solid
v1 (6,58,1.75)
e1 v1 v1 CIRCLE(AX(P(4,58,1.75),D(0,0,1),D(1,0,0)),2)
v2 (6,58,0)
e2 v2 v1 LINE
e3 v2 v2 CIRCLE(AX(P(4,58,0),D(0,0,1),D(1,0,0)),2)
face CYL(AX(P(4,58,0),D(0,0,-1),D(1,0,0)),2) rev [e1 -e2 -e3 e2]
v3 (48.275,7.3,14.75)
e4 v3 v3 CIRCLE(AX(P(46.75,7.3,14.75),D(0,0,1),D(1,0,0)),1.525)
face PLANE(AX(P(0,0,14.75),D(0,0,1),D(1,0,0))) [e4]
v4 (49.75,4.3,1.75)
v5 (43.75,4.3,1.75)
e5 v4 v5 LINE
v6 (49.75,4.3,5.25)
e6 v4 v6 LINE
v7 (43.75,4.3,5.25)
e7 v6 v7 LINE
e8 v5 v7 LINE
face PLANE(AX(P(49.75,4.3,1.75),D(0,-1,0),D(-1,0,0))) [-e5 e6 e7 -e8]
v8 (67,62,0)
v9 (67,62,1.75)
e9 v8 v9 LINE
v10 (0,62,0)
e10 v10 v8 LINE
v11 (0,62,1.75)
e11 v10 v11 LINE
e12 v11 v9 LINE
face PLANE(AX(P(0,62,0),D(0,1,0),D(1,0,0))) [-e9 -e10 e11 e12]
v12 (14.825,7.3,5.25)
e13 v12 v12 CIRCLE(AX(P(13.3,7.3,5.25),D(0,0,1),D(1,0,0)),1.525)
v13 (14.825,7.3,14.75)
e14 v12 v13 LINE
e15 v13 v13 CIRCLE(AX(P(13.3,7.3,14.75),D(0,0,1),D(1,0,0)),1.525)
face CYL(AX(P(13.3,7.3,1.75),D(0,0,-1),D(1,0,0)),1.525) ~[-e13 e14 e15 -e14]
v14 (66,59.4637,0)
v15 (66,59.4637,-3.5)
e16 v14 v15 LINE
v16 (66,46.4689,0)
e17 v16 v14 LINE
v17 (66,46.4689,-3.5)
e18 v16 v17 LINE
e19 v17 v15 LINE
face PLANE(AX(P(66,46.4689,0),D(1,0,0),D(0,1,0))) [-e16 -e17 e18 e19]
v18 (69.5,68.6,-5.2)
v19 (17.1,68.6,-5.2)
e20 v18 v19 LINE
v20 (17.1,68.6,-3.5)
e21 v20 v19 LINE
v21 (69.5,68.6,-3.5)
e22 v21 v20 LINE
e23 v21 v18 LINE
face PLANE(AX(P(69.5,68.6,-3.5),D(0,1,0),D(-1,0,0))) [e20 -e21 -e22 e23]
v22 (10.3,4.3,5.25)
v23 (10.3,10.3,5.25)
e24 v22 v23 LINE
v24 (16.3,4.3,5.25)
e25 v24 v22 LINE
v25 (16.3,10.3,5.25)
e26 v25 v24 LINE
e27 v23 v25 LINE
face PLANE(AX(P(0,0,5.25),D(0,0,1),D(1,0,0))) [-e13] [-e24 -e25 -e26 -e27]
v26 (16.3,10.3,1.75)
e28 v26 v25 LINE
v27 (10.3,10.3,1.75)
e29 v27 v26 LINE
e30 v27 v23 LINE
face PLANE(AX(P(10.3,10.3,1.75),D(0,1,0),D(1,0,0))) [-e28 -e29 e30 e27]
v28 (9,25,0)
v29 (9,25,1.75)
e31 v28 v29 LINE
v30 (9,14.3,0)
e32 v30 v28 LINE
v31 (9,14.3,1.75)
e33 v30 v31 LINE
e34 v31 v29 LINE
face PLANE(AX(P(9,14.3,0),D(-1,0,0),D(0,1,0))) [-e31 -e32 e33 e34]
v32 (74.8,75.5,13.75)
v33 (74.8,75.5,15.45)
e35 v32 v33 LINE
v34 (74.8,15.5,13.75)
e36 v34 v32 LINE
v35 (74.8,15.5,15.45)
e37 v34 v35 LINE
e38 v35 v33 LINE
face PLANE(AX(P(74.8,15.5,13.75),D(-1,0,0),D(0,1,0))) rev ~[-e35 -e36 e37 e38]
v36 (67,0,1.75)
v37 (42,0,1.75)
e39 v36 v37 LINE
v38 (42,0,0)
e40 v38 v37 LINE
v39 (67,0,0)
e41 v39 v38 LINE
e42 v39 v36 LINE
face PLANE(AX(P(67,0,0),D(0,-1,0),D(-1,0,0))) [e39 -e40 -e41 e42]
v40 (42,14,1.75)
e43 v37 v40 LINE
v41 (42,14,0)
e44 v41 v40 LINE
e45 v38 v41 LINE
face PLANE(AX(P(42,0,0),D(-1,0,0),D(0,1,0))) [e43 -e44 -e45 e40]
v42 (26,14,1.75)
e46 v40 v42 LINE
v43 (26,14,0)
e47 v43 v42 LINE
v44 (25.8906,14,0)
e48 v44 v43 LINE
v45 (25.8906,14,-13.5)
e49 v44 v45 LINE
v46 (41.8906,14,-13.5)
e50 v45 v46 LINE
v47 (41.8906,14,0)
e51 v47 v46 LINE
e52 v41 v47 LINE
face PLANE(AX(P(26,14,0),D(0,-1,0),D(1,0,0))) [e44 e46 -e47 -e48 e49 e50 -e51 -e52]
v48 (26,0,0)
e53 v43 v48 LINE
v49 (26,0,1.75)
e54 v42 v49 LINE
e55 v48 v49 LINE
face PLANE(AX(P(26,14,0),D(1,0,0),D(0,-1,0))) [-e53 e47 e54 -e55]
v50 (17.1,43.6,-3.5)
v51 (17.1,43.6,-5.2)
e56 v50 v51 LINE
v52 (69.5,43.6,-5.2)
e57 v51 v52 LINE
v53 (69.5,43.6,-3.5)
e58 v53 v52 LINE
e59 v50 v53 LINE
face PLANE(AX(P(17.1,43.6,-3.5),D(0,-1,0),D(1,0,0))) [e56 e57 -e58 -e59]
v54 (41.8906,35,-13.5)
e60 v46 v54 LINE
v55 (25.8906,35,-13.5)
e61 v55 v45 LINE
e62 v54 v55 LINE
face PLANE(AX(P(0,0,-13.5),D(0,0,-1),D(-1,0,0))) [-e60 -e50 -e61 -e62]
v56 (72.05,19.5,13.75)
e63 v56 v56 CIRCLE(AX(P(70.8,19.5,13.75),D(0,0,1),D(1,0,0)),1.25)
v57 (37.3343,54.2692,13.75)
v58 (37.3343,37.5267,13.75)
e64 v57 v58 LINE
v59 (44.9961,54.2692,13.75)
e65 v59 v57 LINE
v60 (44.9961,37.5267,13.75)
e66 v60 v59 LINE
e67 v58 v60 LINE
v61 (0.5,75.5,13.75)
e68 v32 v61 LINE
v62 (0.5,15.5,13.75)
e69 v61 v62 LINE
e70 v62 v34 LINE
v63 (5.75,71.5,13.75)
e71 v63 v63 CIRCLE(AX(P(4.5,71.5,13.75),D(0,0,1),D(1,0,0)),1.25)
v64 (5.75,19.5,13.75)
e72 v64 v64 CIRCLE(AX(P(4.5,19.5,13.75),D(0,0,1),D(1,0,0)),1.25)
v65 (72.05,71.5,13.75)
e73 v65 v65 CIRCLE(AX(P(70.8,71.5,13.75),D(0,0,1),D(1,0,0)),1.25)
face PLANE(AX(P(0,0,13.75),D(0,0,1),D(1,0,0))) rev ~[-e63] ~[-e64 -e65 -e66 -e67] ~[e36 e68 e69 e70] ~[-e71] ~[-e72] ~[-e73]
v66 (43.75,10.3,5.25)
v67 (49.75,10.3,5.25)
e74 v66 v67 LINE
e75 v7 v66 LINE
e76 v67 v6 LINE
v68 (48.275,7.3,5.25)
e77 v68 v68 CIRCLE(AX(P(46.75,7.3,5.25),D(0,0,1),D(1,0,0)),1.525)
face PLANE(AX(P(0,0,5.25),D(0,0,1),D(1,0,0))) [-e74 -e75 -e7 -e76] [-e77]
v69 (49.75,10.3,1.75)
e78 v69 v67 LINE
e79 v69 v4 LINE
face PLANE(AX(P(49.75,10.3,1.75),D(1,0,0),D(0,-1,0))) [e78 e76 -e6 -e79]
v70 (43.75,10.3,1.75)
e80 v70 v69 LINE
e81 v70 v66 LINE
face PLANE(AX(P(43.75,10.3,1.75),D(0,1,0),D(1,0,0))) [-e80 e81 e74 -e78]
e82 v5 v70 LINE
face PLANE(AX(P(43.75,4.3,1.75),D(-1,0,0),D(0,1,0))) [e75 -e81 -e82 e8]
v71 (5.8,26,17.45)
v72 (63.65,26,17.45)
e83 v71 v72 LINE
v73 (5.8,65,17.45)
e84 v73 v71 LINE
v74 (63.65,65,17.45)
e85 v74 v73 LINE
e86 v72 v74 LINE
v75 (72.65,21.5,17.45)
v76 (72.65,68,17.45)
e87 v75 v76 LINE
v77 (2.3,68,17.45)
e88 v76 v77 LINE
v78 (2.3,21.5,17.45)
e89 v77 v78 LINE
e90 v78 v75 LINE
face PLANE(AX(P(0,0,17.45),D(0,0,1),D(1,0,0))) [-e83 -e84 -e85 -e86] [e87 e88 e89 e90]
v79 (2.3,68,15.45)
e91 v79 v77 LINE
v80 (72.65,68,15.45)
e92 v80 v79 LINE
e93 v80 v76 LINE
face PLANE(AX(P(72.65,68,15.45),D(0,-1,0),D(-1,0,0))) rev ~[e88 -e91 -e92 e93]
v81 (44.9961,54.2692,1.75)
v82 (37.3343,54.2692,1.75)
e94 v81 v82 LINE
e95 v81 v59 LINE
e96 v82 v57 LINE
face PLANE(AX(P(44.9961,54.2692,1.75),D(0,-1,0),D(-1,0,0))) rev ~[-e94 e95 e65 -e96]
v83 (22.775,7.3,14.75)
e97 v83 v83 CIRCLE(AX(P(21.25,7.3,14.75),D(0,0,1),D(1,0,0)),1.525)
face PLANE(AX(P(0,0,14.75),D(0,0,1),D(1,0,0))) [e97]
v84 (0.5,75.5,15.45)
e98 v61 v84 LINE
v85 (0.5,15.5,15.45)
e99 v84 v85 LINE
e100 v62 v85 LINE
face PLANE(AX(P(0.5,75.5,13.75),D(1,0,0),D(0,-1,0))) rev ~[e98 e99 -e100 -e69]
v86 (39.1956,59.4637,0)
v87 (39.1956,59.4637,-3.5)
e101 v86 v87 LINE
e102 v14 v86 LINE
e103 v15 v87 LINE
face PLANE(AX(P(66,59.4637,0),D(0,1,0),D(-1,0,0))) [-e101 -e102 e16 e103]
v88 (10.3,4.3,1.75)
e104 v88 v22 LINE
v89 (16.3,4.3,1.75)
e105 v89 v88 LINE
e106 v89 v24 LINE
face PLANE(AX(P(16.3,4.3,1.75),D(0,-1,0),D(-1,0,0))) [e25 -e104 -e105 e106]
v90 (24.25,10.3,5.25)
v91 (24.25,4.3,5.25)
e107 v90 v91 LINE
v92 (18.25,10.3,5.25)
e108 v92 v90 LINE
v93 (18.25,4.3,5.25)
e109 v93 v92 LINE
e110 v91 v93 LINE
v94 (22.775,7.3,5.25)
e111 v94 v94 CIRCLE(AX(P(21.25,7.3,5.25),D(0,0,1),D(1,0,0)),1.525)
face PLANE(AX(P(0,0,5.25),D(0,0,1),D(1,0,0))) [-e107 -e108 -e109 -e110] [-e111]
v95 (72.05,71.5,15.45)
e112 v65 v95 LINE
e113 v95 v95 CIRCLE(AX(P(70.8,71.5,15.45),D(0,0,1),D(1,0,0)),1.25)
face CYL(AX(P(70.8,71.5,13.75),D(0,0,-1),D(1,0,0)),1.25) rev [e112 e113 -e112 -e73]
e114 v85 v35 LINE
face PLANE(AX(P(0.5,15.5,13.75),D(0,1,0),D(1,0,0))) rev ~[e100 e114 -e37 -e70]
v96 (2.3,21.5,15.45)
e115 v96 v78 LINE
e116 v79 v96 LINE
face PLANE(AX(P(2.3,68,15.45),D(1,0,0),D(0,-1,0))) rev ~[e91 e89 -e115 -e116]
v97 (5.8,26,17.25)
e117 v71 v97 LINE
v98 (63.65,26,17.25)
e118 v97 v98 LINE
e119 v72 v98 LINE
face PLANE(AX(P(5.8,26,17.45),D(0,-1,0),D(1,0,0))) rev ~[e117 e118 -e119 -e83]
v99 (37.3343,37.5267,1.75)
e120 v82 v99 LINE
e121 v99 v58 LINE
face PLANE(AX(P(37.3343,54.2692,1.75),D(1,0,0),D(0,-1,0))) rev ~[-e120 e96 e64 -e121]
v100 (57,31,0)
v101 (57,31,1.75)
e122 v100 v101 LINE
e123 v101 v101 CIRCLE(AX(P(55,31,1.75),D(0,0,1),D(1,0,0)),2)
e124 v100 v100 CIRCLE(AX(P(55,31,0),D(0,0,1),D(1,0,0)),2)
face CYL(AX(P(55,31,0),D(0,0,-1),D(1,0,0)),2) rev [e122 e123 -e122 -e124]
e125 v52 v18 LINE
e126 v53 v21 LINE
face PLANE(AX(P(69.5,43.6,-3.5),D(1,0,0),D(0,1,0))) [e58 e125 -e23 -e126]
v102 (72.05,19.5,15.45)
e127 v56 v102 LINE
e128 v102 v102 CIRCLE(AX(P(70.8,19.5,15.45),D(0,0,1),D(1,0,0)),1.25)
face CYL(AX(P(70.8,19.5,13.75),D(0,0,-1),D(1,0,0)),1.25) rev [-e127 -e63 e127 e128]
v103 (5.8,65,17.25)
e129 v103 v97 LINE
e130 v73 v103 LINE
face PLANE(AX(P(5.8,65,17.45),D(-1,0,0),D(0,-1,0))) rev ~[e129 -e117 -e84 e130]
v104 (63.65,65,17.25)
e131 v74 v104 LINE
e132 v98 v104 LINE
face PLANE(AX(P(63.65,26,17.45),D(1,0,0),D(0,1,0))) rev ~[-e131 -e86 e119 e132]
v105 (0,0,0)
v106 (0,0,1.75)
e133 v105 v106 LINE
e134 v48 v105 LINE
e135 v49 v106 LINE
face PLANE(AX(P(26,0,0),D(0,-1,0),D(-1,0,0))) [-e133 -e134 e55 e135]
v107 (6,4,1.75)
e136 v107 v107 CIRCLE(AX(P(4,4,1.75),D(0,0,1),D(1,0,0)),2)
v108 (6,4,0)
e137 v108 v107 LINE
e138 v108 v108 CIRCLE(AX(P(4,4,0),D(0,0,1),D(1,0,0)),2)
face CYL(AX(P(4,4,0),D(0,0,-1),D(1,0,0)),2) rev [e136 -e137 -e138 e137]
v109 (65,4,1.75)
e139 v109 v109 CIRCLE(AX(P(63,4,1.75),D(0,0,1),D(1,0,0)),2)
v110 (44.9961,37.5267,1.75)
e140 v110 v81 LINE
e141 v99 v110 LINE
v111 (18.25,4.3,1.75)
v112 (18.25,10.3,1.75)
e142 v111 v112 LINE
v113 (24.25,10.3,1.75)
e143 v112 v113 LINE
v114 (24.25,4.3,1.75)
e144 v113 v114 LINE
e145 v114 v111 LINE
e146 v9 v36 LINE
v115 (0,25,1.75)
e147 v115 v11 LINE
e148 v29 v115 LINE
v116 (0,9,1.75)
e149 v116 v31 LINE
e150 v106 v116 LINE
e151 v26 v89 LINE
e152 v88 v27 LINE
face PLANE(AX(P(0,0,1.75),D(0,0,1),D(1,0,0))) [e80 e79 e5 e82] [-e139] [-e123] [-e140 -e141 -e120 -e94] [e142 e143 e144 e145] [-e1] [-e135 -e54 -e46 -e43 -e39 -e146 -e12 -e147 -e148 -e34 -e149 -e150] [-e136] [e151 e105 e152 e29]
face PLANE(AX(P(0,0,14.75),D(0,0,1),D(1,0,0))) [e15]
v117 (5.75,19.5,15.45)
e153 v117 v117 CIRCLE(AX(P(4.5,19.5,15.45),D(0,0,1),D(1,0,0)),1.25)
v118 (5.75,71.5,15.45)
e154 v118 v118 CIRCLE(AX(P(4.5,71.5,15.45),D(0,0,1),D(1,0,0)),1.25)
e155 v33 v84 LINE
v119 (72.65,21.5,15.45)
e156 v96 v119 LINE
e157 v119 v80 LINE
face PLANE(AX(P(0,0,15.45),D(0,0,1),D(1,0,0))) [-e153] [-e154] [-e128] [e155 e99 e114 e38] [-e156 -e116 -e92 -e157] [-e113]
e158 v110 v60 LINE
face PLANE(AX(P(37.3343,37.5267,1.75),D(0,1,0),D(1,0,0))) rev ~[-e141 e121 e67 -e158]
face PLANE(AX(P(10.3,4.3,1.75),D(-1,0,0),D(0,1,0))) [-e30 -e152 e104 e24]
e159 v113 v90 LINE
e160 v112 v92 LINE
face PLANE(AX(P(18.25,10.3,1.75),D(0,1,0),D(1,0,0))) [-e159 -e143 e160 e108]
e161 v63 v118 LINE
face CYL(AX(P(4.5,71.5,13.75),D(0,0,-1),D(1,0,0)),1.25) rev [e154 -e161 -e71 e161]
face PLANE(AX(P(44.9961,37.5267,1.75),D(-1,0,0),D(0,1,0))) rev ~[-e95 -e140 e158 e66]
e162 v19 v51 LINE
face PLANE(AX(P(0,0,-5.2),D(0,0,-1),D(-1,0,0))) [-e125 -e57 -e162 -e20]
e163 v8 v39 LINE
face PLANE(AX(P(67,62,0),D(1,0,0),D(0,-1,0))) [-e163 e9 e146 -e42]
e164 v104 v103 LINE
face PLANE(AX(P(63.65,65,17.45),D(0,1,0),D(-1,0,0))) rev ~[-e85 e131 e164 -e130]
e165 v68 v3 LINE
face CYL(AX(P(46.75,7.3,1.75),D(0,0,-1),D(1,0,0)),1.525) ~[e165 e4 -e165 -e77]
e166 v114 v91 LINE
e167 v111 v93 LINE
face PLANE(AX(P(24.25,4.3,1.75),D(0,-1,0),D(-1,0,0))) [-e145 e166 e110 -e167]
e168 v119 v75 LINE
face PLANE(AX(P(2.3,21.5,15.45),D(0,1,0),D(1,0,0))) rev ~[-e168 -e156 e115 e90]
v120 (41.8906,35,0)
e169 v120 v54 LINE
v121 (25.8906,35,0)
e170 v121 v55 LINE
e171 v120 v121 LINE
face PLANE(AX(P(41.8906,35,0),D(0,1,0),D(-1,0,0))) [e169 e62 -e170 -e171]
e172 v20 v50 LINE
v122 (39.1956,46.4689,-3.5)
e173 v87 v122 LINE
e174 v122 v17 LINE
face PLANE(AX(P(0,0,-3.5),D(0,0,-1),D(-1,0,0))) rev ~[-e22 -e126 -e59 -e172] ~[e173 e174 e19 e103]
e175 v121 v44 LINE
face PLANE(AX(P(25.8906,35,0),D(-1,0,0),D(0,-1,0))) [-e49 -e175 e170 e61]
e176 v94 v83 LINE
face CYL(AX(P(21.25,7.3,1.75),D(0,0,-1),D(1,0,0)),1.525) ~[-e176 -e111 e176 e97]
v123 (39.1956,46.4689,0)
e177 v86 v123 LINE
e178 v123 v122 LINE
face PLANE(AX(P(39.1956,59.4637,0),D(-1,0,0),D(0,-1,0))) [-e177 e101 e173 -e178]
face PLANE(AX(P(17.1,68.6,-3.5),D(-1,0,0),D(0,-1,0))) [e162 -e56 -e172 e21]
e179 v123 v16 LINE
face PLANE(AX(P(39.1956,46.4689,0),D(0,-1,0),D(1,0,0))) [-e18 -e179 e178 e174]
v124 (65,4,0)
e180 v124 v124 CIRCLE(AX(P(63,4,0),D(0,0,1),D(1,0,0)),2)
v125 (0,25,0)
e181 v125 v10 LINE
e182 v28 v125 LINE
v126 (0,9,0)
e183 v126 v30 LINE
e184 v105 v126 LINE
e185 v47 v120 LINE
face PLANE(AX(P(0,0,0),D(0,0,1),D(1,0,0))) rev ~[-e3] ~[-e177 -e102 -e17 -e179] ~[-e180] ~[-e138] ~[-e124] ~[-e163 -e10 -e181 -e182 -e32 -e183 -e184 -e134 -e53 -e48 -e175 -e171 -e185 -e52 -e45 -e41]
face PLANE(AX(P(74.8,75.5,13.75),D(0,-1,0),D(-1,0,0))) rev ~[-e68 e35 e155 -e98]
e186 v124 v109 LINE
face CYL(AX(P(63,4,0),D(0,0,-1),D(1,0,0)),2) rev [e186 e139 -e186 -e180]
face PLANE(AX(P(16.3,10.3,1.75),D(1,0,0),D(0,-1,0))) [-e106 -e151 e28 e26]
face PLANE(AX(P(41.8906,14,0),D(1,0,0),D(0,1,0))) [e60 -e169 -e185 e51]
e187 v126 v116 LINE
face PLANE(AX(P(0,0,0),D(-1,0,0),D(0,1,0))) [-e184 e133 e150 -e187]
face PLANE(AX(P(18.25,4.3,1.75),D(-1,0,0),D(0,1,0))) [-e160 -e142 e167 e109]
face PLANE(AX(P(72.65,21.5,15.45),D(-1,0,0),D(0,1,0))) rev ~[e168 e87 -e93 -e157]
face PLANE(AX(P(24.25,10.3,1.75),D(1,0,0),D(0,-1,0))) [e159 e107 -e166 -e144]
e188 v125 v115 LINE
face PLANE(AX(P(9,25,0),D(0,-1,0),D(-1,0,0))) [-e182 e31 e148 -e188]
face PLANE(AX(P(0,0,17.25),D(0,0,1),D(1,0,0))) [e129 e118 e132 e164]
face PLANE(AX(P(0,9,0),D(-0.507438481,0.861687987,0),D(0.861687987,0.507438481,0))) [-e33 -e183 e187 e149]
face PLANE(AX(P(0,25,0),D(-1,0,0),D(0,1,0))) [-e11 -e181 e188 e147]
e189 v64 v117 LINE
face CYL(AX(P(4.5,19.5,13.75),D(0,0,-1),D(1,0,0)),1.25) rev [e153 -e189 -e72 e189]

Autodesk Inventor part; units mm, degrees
ref_plane "YZ Plane" through (0, 0, 0) normal (1, 0, 0) x (0, 1, 0)
ref_plane "XZ Plane" through (0, 0, 0) normal (0, 1, 0) x (-1, 0, 0)
ref_plane "XY Plane" through (0, 0, 0) normal (0, 0, 1) x (1, 0, 0)
sketch "Umriss_Sensorplatine" plane through (0, 0, 0) normal (0, 0, 1) x (1, 0, 0)
  line L0 (0, 62) -> (67, 62)
  line L1 (67, 62) -> (67, 0)
  line L2 (67, 0) -> (42, 0)
  line L3 (42, 0) -> (42, 14)
  line L4 (42, 14) -> (26, 14)
  line L5 (26, 14) -> (26, 0)
  line L6 (26, 0) -> (0, 0)
  line L7 (9, 14.3) -> (9, 25)
  line L8 (9, 25) -> (0, 25)
  line L9 (0, 0) -> (0, 9)
  line L10 (0, 25) -> (0, 62)
  circle A0 centre (63, 4) radius 2
  circle A1 centre (4, 4) radius 2
  circle A2 centre (55, 31) radius 2
  circle A3 centre (4, 58) radius 2
  line L11 (4, 4) -> (63, 4) construction
  line L12 (4, 4) -> (4, 58) construction
  line L13 (0, 9) -> (9, 14.3)
  dimension "d0" = 4
  dimension "d2" = 4
  dimension "d3" = 4
  dimension "d4" = 4
  dimension "d5" = 67
  dimension "d6" = 26
  dimension "d7" = 42
  dimension "d8" = 14
  dimension "d9" = 4
  dimension "d11" = 25
  dimension "d12" = 9
  dimension "d13" = 62
  dimension "d14" = 31
  dimension "d15" = 55
  dimension "d67" = 14.3
  dimension "d68" = 9
extrude "Sensorplatine" add sketch "Umriss_Sensorplatine" along normal blind 1.75
sketch "Tasterprojektion" plane through (0, 0, 1.75) normal (0, 0, 1) x (1, 0, 0)
  line L0 (0, 0) -> (26, 0) construction
  line L1 (26, 0) -> (26, 14) construction
  line L2 (26, 14) -> (42, 14) construction
  line L3 (42, 14) -> (42, 0) construction
  line L4 (42, 0) -> (67, 0) construction
  line L5 (67, 0) -> (67, 62) construction
  line L6 (67, 62) -> (0, 62) construction
  line L7 (0, 62) -> (0, 25) construction
  line L8 (0, 9) -> (0, 0) construction
  line L9 (0, 7.3) -> (67, 7.3) construction
  circle A0 centre (13.3, 7.3) radius 1.525
  circle A1 centre (21.25, 7.3) radius 1.525
  circle A2 centre (46.75, 7.3) radius 1.525
  line L10 (43.75, 10.3) -> (49.75, 10.3)
  line L11 (49.75, 10.3) -> (49.75, 4.3)
  line L12 (49.75, 4.3) -> (43.75, 4.3)
  line L13 (43.75, 4.3) -> (43.75, 10.3)
  line L14 (43.75, 10.3) -> (49.75, 4.3) construction
  line L15 (49.75, 10.3) -> (43.75, 4.3) construction
  line L16 (18.25, 10.3) -> (24.25, 10.3)
  line L17 (24.25, 10.3) -> (24.25, 4.3)
  line L18 (24.25, 4.3) -> (18.25, 4.3)
  line L19 (18.25, 4.3) -> (18.25, 10.3)
  line L20 (18.25, 10.3) -> (24.25, 4.3) construction
  line L21 (24.25, 10.3) -> (18.25, 4.3) construction
  line L22 (10.3, 10.3) -> (16.3, 10.3)
  line L23 (16.3, 10.3) -> (16.3, 4.3)
  line L24 (16.3, 4.3) -> (10.3, 4.3)
  line L25 (10.3, 4.3) -> (10.3, 10.3)
  line L26 (10.3, 10.3) -> (16.3, 4.3) construction
  line L27 (16.3, 10.3) -> (10.3, 4.3) construction
  dimension "d19" = 7.3
  dimension "d20" = 3.05
  dimension "d21" = 13.3
  dimension "d22" = 21.25
  dimension "d23" = 46.75
  dimension "d24" = 6
  dimension "d25" = 6
extrude "Grundkoerper Taster" add sketch "Tasterprojektion" along normal blind 3.5
extrude "Nubsis Taster" add sketch "Tasterprojektion" along normal blind 13 contours A0 | A1 | A2
sketch "Sketch3" plane through (0, 0, 1.75) normal (0, 0, 1) x (1, 0, 0)
  line L0 (37.3343, 37.5267) -> (44.9961, 37.5267)
  line L1 (44.9961, 37.5267) -> (44.9961, 54.2692)
  line L2 (44.9961, 54.2692) -> (37.3343, 54.2692)
  line L3 (37.3343, 54.2692) -> (37.3343, 37.5267)
  line L4 (37.3343, 37.5267) -> (44.9961, 54.2692) construction
  line L5 (44.9961, 37.5267) -> (37.3343, 54.2692) construction
  point P0 (41.1652, 45.898)
extrude "Steckverbinder" add sketch "Sketch3" along normal blind 12
sketch "Sketch4" plane through (0, 0, 13.75) normal (0, 0, 1) x (1, 0, 0)
  line L0 (0, 62) -> (0, 25) construction
  line L1 (0, 25) -> (9, 25) construction
  line L2 (37.3343, 37.5267) -> (37.3343, 54.2692) construction
  line L3 (37.3343, 54.2692) -> (44.9961, 54.2692) construction
  line L4 (44.9961, 54.2692) -> (44.9961, 37.5267) construction
  line L5 (44.9961, 37.5267) -> (37.3343, 37.5267) construction
  line L6 (0, 0) -> (26, 0) construction
  line L7 (26, 0) -> (26, 14) construction
  line L8 (26, 14) -> (42, 14) construction
  line L9 (42, 14) -> (42, 0) construction
  line L10 (42, 0) -> (67, 0) construction
  line L11 (67, 0) -> (67, 62) construction
  line L12 (67, 62) -> (0, 62) construction
  line L13 (0, 62) -> (0, 25) construction
  line L14 (0, 25) -> (9, 25) construction
  line L15 (9, 25) -> (9, 14.3) construction
  line L16 (0, 9) -> (0, 0) construction
  circle A0 centre (63, 4) radius 2 construction
  circle A1 centre (4, 4) radius 2 construction
  circle A2 centre (55, 31) radius 2 construction
  circle A3 centre (4, 58) radius 2 construction
  line L17 (24.25, 10.3) -> (24.25, 4.3) construction
  line L18 (24.25, 4.3) -> (18.25, 4.3) construction
  line L19 (18.25, 4.3) -> (18.25, 10.3) construction
  line L20 (18.25, 10.3) -> (24.25, 10.3) construction
  line L21 (49.75, 10.3) -> (49.75, 4.3) construction
  line L22 (49.75, 4.3) -> (43.75, 4.3) construction
  line L23 (43.75, 4.3) -> (43.75, 10.3) construction
  line L24 (43.75, 10.3) -> (49.75, 10.3) construction
  line L25 (16.3, 10.3) -> (16.3, 4.3) construction
  line L26 (16.3, 4.3) -> (10.3, 4.3) construction
  line L27 (10.3, 4.3) -> (10.3, 10.3) construction
  line L28 (10.3, 10.3) -> (16.3, 10.3) construction
  line L29 (0.5, 15.5) -> (74.8, 15.5)
  line L30 (74.8, 15.5) -> (74.8, 75.5)
  line L31 (74.8, 75.5) -> (0.5, 75.5)
  line L32 (0.5, 75.5) -> (0.5, 15.5)
  line L33 (4.5, 19.5) -> (70.8, 19.5) construction
  line L34 (70.8, 19.5) -> (70.8, 71.5) construction
  line L35 (70.8, 71.5) -> (4.5, 71.5) construction
  line L36 (4.5, 71.5) -> (4.5, 19.5) construction
  circle A4 centre (70.8, 71.5) radius 1.25
  circle A5 centre (4.5, 71.5) radius 1.25
  circle A6 centre (4.5, 19.5) radius 1.25
  circle A7 centre (70.8, 19.5) radius 1.25
  line L37 (9, 14.3) -> (0, 9) projected
  dimension "d32" = 0.5
  dimension "d33" = 74.3
  dimension "d34" = 60
  dimension "d35" = 4
  dimension "d36" = 4
  dimension "d37" = 4
  dimension "d38" = 4
  dimension "d39" = 2.5
  dimension "d70" = 13.5
  dimension "d71" = 66.3
  dimension "d72" = 52
  dimension "d73" = 62
extrude "Grundplatine Display" add sketch "Sketch4" along normal blind 1.7
sketch "Sketch5" plane through (0, 0, 15.45) normal (0, 0, 1) x (1, 0, 0)
  line L0 (0.5, 15.5) -> (74.8, 15.5) projected
  line L1 (74.8, 15.5) -> (74.8, 75.5) projected
  line L2 (0.5, 75.5) -> (0.5, 15.5) projected
  circle A0 centre (70.8, 19.5) radius 1.25 construction
  circle A1 centre (4.5, 19.5) radius 1.25 construction
  circle A2 centre (4.5, 71.5) radius 1.25 construction
  circle A3 centre (70.8, 71.5) radius 1.25 construction
  line L3 (0.5, 15.5) -> (74.8, 15.5) construction
  line L4 (74.8, 15.5) -> (74.8, 75.5) construction
  line L5 (74.8, 75.5) -> (0.5, 75.5) construction
  line L6 (0.5, 75.5) -> (0.5, 15.5) construction
  line L7 (2.3, 21.5) -> (72.65, 21.5)
  line L8 (72.65, 21.5) -> (72.65, 68)
  line L9 (72.65, 68) -> (2.3, 68)
  line L10 (2.3, 68) -> (2.3, 21.5)
  point P0 (0, 0)
  dimension "d42" = 6
  dimension "d43" = 7.5
  dimension "d44" = 2.15
  dimension "d45" = 1.8
extrude "Glaskoerper Display" add sketch "Sketch5" along normal blind 2
sketch "Display" plane through (0, 0, 17.45) normal (0, 0, 1) x (1, 0, 0)
  line L0 (2.3, 21.5) -> (72.65, 21.5) construction
  line L1 (72.65, 21.5) -> (72.65, 68) construction
  line L2 (72.65, 68) -> (2.3, 68) construction
  line L3 (2.3, 68) -> (2.3, 21.5) construction
  line L4 (5.8, 26) -> (63.65, 26)
  line L5 (63.65, 26) -> (63.65, 65)
  line L6 (63.65, 65) -> (5.8, 65)
  line L7 (5.8, 65) -> (5.8, 26)
  line L8 (11.3777, 48.5369) -> (83.2025, 48.5369) construction
  line L9 (83.2025, 48.5369) -> (83.2025, 36.2483) construction
  line L10 (83.2025, 36.2483) -> (11.3777, 36.2483) construction
  line L11 (11.3777, 36.2483) -> (11.3777, 48.5369) construction
  point P0 (0, 0)
  dimension "d48" = 4.5
  dimension "d49" = 3
  dimension "d50" = 9
  dimension "d51" = 3.5
extrude "Bildausschnitt" cut sketch "Display" against normal blind 0.2
sketch "Sketch7" plane through (0, 0, 0) normal (0, 0, -1) x (-1, 0, 0)
  line L0 (-66, 59.4637) -> (-39.1956, 59.4637)
  line L1 (-39.1956, 59.4637) -> (-39.1956, 46.4689)
  line L2 (-39.1956, 46.4689) -> (-66, 46.4689)
  line L3 (-66, 46.4689) -> (-66, 59.4637)
extrude "Platzhalter_Stiftleiste" add sketch "Sketch7" along normal blind 3.5
sketch "Sketch8" plane through (0, 0, -3.5) normal (0, 0, -1) x (-1, 0, 0)
  line L0 (-39.1956, 59.4637) -> (-39.1956, 46.4689) construction
  line L1 (-39.1956, 46.4689) -> (-66, 46.4689) construction
  line L2 (-66, 46.4689) -> (-66, 59.4637) construction
  line L3 (-66, 59.4637) -> (-39.1956, 59.4637) construction
  circle A0 centre (-4, 58) radius 2 construction
  circle A1 centre (-55, 31) radius 2 construction
  circle A2 centre (-4, 4) radius 2 construction
  circle A3 centre (-63, 4) radius 2 construction
  line L4 (0, 0) -> (-26, 0) construction
  line L5 (0, 9) -> (0, 0) construction
  line L6 (-9, 25) -> (-9, 14.3) construction
  line L7 (0, 25) -> (-9, 25) construction
  line L8 (0, 62) -> (0, 25) construction
  line L9 (-67, 62) -> (0, 62) construction
  line L10 (-67, 0) -> (-67, 62) construction
  line L11 (-42, 0) -> (-67, 0) construction
  line L12 (-42, 14) -> (-42, 0) construction
  line L13 (-26, 14) -> (-42, 14) construction
  line L14 (-26, 0) -> (-26, 14) construction
  line L15 (-69.5, 68.6) -> (-17.1, 68.6)
  line L16 (-17.1, 68.6) -> (-17.1, 43.6)
  line L17 (-17.1, 43.6) -> (-69.5, 43.6)
  line L18 (-69.5, 43.6) -> (-69.5, 68.6)
  line L19 (-9, 14.3) -> (0, 9) projected
  dimension "d56" = 6.6
  dimension "d57" = 2.5
  dimension "d58" = 25
  dimension "d59" = 52.4
extrude "HexaHorst" add sketch "Sketch8" along normal blind 1.7
sketch "Sketch9" plane through (0, 0, 0) normal (0, 0, -1) x (-1, 0, 0)
  line L0 (-67, 62) -> (0, 62) projected
  line L1 (-26, 14) -> (-42, 14) projected
  line L2 (-34, 14) -> (-33.5, 62) construction
  line L3 (-41.8906, 35) -> (-25.8906, 35)
  line L4 (-25.8906, 35) -> (-25.8906, 14)
  line L5 (-25.8906, 14) -> (-41.8906, 14)
  line L6 (-41.8906, 14) -> (-41.8906, 35)
  line L7 (-41.8906, 35) -> (-25.8906, 14) construction
  line L8 (-25.8906, 35) -> (-41.8906, 14) construction
  point P0 (-33.8906, 24.5)
  dimension "d62" = 16
  dimension "d63" = 21
extrude "Extrusion10" add sketch "Sketch9" along normal blind 13.5
properties part number "Mockup_Platinen"
